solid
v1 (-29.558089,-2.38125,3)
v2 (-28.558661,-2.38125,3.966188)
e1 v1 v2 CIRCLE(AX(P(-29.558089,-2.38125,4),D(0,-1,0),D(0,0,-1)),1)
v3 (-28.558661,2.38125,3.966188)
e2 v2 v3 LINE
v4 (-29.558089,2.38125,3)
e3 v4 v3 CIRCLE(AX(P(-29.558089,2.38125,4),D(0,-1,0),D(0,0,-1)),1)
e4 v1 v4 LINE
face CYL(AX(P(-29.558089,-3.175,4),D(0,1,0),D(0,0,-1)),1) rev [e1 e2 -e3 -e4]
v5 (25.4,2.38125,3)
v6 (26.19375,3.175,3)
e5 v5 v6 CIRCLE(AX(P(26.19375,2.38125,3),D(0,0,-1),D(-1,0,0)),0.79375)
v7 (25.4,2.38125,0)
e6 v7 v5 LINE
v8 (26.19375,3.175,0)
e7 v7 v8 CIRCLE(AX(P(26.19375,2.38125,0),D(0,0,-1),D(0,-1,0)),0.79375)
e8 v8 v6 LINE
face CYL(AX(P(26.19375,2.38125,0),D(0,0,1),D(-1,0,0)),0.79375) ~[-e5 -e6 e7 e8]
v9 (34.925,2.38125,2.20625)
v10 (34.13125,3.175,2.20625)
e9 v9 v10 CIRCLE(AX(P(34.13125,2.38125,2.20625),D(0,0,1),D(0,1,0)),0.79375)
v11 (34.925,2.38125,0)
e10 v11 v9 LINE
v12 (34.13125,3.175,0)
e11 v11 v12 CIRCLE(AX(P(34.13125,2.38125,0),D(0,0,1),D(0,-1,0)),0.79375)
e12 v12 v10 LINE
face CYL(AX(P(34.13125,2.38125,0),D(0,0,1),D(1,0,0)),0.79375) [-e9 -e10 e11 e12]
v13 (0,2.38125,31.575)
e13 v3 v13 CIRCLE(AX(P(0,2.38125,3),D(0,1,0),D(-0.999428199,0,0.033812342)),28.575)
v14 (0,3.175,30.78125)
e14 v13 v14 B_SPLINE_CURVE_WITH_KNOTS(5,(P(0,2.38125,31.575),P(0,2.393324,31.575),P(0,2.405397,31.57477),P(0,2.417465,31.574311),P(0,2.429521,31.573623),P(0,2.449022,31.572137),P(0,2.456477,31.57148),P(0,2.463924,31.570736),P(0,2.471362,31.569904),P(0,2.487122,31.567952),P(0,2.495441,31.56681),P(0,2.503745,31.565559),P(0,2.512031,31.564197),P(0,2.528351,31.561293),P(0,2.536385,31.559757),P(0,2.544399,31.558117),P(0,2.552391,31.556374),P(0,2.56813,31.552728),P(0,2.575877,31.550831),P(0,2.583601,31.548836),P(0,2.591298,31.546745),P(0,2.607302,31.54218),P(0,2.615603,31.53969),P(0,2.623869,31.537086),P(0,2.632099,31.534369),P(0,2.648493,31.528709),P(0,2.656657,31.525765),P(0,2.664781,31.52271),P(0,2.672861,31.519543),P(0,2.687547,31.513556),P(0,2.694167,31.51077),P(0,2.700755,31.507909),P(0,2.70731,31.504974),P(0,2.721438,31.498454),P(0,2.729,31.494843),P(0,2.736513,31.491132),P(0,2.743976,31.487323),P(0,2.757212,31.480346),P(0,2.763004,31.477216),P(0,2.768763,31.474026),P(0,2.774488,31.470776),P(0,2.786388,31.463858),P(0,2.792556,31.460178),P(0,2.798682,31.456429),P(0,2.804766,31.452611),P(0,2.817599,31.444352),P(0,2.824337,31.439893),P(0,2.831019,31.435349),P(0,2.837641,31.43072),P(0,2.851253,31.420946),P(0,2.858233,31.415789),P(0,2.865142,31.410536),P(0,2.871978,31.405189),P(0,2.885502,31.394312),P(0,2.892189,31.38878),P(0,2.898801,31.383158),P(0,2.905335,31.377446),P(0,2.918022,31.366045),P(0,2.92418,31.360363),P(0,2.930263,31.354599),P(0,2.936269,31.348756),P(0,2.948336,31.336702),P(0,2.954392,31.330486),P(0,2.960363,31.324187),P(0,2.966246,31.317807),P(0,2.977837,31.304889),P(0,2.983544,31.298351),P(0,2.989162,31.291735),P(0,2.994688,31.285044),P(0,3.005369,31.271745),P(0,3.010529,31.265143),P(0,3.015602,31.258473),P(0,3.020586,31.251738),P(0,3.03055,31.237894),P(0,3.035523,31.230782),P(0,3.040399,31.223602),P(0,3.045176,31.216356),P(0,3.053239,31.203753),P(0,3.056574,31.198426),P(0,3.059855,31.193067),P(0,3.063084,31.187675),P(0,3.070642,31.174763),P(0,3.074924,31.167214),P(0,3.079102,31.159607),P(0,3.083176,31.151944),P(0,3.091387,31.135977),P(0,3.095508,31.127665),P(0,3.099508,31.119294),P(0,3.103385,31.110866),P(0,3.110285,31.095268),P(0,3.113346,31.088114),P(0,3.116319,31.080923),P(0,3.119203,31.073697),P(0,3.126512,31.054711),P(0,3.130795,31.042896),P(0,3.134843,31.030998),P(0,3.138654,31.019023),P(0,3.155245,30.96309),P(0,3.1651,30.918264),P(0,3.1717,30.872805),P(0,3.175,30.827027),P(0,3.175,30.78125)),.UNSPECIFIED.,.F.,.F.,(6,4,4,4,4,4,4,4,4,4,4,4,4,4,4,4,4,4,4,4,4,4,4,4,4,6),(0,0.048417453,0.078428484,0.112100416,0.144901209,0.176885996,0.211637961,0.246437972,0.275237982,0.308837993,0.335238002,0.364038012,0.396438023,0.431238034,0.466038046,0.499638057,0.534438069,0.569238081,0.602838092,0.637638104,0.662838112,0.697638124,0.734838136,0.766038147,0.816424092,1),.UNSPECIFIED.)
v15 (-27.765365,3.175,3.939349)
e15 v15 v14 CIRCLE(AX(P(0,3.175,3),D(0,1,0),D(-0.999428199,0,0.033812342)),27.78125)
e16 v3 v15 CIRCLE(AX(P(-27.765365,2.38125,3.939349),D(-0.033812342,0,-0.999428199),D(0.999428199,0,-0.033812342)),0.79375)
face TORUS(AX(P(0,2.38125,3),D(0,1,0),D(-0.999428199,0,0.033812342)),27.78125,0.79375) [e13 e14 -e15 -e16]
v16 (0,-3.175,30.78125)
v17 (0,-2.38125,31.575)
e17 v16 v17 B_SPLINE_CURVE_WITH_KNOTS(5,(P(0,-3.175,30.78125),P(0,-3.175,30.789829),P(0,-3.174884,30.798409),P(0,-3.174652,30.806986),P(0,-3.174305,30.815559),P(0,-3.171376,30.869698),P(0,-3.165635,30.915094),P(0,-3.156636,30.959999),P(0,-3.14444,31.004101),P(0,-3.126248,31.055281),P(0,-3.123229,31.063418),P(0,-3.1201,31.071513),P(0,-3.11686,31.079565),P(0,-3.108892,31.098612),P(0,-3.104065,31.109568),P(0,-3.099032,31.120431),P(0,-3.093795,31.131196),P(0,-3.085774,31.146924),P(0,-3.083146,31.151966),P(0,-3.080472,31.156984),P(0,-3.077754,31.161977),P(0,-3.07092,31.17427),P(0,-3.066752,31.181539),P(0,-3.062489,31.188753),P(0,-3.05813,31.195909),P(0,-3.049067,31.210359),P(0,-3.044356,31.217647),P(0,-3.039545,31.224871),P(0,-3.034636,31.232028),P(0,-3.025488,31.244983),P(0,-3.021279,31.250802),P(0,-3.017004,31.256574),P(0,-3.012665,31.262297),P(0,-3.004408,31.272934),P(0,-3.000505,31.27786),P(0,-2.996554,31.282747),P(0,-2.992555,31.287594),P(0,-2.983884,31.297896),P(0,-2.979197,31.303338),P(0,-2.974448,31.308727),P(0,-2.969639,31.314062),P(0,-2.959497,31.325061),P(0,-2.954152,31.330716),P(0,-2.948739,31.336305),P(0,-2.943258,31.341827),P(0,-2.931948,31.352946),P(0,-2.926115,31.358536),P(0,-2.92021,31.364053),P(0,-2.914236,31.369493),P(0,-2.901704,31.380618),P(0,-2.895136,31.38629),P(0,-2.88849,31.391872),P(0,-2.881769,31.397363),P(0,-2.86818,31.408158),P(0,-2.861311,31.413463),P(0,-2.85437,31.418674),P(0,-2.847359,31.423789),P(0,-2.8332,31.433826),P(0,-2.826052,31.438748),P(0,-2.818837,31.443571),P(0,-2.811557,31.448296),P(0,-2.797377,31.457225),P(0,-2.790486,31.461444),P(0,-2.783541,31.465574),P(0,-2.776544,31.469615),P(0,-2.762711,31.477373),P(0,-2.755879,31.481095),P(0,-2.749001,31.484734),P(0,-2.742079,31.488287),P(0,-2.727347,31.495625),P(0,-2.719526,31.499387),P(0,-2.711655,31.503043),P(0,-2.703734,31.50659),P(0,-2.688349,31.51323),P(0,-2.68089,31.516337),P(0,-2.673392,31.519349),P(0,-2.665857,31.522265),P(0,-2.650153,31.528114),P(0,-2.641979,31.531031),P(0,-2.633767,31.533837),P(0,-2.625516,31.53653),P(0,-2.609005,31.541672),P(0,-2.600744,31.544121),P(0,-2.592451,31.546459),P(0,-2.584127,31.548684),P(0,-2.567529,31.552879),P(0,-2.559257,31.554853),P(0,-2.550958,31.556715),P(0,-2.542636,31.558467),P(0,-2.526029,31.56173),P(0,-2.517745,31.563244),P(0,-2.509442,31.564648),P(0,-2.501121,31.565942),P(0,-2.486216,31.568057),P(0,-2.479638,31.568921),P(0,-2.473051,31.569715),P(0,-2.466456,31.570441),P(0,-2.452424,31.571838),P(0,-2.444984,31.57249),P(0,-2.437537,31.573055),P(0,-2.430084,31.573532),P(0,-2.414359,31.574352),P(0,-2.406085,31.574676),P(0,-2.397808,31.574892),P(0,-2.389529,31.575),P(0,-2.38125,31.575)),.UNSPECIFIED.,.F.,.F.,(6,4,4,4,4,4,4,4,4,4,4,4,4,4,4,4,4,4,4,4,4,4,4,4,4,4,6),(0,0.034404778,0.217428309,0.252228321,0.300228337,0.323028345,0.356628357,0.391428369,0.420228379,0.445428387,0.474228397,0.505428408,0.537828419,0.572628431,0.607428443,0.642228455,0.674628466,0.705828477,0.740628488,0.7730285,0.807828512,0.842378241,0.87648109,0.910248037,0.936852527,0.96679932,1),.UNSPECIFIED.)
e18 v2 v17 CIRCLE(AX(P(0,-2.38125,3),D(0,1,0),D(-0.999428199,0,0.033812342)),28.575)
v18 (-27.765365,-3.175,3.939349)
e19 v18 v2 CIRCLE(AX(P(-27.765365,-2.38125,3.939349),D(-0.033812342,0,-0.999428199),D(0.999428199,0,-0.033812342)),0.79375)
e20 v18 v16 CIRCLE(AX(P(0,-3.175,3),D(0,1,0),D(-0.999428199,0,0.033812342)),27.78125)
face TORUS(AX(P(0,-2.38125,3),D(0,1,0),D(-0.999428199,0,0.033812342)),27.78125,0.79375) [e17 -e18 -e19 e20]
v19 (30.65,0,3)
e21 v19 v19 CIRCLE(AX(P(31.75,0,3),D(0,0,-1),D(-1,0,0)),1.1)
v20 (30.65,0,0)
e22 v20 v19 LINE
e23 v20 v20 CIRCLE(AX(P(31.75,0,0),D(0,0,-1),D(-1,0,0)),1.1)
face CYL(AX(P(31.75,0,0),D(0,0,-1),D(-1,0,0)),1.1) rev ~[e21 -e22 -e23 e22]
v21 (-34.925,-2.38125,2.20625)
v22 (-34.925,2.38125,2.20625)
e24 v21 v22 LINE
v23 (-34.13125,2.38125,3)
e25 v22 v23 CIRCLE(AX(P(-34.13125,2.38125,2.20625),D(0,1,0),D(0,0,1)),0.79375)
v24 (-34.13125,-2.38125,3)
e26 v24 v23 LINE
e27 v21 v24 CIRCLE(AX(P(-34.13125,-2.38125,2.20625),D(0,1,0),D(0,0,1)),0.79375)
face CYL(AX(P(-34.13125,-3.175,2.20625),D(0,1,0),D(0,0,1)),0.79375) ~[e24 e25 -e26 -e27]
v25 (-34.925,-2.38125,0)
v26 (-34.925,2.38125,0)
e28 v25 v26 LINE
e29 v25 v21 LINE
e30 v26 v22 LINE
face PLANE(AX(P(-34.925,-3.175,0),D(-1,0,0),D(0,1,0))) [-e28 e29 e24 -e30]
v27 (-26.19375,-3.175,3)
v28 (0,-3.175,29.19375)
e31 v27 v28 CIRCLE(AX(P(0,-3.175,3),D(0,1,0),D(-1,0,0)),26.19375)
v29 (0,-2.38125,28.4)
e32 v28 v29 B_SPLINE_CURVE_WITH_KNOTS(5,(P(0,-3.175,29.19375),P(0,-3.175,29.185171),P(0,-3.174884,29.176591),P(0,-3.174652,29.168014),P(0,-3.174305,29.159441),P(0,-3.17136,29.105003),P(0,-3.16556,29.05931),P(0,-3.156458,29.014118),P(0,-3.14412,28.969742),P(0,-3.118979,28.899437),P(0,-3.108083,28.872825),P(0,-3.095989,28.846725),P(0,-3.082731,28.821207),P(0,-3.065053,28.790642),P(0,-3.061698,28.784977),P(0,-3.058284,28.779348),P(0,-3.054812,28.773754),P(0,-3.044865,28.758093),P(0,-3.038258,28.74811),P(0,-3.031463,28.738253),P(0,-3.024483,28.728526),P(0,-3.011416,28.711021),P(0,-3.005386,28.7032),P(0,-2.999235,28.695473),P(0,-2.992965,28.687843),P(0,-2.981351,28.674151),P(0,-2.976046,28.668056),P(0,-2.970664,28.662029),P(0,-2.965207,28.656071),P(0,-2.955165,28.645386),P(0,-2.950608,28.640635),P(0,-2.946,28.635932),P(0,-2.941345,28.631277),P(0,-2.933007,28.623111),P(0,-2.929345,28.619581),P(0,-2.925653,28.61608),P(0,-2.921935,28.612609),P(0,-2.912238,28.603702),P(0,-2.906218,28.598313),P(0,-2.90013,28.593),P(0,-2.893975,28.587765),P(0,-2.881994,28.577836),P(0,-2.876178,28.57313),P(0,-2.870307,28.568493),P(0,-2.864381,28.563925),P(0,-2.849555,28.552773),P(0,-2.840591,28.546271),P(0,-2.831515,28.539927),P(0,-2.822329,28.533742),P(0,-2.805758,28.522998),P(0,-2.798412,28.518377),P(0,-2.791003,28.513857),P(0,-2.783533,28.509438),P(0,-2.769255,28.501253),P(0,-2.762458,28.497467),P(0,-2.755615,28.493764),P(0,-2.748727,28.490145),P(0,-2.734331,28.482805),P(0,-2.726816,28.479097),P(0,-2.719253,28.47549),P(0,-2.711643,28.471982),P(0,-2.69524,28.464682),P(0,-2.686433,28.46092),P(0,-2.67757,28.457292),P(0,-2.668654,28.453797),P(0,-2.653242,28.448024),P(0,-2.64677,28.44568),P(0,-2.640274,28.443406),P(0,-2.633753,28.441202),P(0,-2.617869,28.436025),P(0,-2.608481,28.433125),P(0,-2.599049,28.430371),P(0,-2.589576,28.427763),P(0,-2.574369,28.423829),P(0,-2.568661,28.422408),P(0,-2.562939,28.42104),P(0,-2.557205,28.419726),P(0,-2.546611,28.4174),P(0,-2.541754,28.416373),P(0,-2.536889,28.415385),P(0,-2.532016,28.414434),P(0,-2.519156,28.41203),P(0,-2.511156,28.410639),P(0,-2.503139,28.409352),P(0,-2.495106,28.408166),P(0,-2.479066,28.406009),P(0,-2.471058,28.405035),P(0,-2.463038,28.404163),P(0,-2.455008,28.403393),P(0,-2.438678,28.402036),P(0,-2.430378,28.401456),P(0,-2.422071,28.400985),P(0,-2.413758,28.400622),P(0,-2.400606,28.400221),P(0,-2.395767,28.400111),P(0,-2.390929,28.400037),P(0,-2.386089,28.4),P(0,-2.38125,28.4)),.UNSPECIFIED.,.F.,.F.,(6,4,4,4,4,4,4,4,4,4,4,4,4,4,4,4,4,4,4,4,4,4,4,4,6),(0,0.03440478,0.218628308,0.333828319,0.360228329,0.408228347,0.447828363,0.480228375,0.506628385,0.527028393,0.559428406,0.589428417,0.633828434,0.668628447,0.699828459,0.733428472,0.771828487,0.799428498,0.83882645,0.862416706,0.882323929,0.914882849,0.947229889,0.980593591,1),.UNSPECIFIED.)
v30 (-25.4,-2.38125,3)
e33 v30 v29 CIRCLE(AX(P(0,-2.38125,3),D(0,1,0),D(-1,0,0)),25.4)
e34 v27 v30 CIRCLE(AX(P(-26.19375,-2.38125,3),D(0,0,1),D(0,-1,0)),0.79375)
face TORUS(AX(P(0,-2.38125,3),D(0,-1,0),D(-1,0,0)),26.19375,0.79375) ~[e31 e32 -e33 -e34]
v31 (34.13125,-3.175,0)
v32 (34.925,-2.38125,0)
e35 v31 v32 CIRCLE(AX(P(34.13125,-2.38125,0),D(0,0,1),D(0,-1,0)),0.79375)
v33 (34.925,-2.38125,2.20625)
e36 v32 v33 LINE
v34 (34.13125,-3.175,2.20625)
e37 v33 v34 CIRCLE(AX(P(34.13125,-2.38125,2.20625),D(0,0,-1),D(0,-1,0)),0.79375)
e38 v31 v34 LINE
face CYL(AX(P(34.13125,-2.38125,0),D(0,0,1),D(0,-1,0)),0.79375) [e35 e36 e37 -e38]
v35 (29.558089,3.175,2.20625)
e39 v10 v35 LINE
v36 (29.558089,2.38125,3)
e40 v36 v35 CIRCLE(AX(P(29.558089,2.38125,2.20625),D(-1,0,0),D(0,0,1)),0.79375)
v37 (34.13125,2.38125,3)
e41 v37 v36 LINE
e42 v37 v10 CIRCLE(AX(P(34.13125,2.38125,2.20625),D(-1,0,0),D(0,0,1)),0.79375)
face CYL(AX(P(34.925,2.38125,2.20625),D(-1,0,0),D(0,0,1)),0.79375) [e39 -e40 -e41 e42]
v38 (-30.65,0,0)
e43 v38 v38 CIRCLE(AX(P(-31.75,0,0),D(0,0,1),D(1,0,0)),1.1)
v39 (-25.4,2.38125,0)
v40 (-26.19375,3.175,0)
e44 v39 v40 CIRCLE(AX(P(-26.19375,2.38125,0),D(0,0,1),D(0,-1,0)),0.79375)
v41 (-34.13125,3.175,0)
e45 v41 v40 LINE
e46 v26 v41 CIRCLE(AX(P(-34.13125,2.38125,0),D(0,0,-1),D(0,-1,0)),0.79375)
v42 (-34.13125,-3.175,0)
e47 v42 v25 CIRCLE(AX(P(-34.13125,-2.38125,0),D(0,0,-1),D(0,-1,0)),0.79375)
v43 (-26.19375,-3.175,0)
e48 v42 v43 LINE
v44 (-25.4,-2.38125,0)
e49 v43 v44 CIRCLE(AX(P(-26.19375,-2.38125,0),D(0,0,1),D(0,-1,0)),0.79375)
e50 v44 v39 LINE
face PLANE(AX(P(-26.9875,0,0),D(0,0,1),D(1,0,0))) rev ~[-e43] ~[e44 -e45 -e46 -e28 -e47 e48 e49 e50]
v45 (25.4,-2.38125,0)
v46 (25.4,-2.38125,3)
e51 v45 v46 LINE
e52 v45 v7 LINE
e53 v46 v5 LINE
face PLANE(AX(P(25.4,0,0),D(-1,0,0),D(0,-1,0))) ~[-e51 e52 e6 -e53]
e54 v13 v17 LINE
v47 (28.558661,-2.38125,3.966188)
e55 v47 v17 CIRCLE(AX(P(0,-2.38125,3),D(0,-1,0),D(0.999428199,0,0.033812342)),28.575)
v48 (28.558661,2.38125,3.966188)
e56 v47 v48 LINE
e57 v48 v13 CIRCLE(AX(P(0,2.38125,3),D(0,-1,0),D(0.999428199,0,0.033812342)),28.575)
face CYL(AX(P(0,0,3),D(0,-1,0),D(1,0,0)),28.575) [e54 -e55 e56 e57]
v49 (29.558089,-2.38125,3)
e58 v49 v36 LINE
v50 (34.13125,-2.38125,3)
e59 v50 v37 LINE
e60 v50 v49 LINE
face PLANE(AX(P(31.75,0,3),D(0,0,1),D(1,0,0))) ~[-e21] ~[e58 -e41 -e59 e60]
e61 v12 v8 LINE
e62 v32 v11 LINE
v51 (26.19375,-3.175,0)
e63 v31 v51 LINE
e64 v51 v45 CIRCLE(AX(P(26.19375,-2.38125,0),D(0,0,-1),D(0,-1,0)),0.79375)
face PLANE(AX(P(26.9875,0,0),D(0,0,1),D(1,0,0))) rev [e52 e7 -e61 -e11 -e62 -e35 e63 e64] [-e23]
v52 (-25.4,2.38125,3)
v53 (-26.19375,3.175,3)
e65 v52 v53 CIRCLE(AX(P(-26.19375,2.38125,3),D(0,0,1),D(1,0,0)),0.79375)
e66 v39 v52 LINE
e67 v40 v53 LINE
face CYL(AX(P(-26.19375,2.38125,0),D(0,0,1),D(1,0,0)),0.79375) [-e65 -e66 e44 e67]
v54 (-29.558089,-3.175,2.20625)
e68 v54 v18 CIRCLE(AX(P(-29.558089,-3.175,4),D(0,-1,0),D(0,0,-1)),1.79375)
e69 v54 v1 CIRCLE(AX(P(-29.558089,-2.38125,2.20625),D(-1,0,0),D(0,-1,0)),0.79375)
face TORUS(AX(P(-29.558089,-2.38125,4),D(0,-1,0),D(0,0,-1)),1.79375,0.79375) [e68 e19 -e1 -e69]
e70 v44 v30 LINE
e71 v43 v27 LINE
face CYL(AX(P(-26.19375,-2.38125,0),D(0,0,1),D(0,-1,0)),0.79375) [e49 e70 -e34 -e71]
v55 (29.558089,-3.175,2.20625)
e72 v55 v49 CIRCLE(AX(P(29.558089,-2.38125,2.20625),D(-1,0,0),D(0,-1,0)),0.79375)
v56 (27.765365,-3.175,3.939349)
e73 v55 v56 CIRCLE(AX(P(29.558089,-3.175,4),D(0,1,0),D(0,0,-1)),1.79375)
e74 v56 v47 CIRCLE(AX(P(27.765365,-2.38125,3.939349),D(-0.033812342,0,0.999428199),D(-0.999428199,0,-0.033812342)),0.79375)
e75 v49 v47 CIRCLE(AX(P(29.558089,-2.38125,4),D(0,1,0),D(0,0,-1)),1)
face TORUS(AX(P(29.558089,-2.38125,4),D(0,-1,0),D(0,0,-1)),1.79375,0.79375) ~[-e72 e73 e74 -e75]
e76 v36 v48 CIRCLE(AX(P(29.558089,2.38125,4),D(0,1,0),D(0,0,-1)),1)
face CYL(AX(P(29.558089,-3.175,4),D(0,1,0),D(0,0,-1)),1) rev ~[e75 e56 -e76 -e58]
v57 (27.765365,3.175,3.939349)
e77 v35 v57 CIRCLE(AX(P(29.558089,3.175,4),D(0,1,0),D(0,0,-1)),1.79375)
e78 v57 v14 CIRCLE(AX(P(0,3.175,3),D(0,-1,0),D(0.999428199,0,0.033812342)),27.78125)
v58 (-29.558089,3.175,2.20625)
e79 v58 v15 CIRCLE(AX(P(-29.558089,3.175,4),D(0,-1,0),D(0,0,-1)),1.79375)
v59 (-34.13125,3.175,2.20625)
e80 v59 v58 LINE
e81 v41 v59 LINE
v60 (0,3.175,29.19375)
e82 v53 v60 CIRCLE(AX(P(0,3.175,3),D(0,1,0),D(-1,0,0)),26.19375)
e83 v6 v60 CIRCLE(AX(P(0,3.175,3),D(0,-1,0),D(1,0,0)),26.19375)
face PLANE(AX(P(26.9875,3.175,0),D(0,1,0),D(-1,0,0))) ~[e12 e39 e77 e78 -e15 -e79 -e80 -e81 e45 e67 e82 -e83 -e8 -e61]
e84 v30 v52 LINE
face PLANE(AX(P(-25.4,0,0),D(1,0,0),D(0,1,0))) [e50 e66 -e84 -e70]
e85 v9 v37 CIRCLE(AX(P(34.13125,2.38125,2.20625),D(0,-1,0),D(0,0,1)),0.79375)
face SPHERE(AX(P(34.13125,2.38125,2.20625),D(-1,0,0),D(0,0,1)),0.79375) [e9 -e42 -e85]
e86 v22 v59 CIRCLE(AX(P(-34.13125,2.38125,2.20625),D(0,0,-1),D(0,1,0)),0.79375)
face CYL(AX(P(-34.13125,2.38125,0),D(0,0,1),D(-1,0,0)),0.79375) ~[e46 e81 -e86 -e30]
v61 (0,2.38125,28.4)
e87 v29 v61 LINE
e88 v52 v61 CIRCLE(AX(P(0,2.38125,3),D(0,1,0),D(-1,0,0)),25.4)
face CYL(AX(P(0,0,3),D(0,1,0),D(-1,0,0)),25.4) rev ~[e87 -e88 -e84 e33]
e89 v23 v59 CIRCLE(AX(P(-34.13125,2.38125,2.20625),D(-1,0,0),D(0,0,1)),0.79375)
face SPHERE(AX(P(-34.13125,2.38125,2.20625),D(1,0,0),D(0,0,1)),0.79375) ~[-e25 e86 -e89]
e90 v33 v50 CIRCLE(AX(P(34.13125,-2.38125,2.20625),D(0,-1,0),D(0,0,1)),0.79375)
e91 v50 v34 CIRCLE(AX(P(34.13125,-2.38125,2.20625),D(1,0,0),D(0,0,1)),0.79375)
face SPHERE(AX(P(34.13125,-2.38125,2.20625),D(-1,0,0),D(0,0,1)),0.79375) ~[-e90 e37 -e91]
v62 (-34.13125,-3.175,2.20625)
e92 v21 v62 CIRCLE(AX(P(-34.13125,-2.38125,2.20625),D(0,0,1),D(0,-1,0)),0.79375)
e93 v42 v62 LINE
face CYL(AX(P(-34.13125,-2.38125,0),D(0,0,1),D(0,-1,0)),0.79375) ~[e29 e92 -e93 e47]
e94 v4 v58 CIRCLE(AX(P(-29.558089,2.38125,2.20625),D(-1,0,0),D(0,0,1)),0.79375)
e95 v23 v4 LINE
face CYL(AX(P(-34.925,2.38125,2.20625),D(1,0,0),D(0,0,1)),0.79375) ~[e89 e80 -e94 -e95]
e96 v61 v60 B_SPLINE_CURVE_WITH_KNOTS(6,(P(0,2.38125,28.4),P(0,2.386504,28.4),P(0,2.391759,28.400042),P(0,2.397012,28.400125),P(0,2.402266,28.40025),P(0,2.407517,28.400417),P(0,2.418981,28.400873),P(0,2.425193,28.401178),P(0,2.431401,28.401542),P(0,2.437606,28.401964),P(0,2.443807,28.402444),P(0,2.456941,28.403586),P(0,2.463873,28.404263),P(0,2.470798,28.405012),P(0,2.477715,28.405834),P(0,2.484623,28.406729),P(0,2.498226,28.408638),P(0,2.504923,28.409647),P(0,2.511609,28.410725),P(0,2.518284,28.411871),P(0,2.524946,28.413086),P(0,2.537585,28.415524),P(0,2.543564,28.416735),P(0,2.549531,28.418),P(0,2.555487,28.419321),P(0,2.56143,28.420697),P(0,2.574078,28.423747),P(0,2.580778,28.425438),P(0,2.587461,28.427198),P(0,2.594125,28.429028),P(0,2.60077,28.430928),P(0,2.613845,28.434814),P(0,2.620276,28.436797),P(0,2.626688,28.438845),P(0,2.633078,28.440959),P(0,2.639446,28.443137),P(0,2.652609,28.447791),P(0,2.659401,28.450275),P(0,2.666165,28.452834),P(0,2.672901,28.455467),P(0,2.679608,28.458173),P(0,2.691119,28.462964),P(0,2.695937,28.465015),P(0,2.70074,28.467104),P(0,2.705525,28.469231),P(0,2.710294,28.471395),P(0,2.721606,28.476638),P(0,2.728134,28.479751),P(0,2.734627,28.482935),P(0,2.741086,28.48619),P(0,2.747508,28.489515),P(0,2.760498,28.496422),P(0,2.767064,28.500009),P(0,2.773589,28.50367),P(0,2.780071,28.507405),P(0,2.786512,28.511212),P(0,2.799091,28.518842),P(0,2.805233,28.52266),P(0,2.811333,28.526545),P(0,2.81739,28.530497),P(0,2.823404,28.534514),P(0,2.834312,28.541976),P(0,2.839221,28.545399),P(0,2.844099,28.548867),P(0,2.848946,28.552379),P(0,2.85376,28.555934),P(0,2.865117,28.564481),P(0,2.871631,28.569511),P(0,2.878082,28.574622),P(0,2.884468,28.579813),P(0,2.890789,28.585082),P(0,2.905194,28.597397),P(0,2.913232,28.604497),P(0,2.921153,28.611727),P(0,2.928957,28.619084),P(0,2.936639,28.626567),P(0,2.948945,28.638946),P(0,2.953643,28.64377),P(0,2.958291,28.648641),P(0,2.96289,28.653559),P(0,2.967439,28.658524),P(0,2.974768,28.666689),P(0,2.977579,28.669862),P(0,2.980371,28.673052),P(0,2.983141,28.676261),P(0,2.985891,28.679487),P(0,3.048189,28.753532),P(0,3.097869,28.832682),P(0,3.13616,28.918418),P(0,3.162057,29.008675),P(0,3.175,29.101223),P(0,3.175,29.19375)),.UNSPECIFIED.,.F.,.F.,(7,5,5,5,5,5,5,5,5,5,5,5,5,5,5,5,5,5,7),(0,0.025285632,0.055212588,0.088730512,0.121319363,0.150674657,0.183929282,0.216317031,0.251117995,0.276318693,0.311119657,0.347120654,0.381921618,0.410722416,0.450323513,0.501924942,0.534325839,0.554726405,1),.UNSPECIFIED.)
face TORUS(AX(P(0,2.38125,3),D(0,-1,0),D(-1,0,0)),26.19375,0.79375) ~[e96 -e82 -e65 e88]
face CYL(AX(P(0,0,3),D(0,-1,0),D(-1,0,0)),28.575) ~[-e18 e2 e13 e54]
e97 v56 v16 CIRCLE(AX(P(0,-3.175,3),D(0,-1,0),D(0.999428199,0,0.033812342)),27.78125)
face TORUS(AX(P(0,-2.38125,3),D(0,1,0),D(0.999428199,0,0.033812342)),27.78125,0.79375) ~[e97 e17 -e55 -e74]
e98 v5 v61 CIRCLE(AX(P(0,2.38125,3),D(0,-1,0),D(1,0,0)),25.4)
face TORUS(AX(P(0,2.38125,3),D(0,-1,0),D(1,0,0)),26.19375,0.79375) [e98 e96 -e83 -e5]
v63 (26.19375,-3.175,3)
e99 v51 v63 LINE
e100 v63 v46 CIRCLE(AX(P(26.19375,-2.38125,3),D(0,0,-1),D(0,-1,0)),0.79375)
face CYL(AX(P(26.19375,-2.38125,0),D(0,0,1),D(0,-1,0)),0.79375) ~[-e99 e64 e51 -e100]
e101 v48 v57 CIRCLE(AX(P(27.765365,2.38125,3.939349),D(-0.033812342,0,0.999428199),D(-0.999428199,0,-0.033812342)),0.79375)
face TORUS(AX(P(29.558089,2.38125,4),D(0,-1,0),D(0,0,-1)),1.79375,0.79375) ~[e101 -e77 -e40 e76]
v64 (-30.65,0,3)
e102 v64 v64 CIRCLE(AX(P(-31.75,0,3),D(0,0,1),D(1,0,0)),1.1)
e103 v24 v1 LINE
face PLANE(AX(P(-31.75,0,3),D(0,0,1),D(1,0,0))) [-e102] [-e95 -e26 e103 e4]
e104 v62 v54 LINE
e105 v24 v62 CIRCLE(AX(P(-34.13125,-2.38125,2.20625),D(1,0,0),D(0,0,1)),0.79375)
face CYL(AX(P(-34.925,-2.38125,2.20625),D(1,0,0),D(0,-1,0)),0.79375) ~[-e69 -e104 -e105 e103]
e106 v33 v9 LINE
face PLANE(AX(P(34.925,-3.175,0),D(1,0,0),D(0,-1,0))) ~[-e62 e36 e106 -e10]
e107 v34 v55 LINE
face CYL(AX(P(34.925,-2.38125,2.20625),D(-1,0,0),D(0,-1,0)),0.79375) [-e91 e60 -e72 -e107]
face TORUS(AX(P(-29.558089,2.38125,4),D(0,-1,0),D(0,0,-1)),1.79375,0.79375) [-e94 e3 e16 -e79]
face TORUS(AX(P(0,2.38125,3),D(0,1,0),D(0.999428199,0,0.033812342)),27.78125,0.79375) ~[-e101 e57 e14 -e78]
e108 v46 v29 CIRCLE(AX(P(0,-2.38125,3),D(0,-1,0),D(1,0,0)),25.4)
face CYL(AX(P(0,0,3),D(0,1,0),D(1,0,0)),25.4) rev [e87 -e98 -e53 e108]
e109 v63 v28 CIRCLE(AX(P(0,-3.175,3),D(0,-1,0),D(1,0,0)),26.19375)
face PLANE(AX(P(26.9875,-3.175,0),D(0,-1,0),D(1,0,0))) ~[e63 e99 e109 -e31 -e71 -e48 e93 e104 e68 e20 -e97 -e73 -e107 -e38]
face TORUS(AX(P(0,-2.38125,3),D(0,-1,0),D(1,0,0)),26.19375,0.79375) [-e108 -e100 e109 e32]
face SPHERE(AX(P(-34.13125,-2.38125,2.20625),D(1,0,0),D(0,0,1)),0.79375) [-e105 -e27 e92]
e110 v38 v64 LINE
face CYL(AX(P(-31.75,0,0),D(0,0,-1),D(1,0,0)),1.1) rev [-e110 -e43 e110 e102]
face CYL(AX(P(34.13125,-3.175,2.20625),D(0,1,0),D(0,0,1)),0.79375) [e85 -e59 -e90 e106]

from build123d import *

# Parameters (mm, degrees)
SKETCH2_W           = 6.35
SKETCH2_H           = 6.35
SKETCH2_R           = 1.1
BOSS_EXTRUDE1_DEPTH = 3
SKETCH4_W           = 3.175
SKETCH4_H           = 6.35
FILLET1_R           = 1
FILLET3_R           = 0.79375


with BuildPart() as part:
    # Sketch2 → Boss-Extrude1 (new body)
    with BuildSketch(Plane.XY):
        with Locations((-31.75, 0)):
            Rectangle(SKETCH2_W, SKETCH2_H)
        with Locations((-31.75, 0)):
            Circle(SKETCH2_R, mode=Mode.SUBTRACT)
    extrude(amount=BOSS_EXTRUDE1_DEPTH)

    # Sweep1: sweep along a path in Sketch3
    with BuildLine(Plane(origin=(0, 0, 0), x_dir=(1, 0, 0), z_dir=(0, 1, 0))) as sweep1_path:
        Line((-28.575, 0), (-28.575, -3))
        ThreePointArc((-28.575, -3), (-20.205576272, -23.205576272), (0, -31.575))
    # Sketch4 → Sweep1 (sweep)
    with BuildSketch(Plane.XY):
        with Locations((-26.9875, 0)):
            Rectangle(SKETCH4_W, SKETCH4_H)
    sweep(path=sweep1_path.line)

    # Fillet1
    fillet1_edges = [part.edges().sort_by_distance(p)[0] for p in [
        (-28.575, 0, 3),
    ]]
    fillet(fillet1_edges, radius=FILLET1_R)

    # Fillet3
    fillet3_edges = [part.edges().sort_by_distance(p)[0] for p in [
        (-25.4, 3.175, 1.5),
        (-25.4, -3.175, 1.5),
        (-17.960512242, 3.175, 20.960512242),
        (-17.960512242, -3.175, 20.960512242),
        (-19.861039911, -3.175, 23.54433544),
        (-28.863039479, -3.175, 3.28103813),
        (-19.861039911, 3.175, 23.54433544),
        (-28.863039479, 3.175, 3.28103813),
        (-32.241544497, -3.175, 3),
        (-34.925, 0, 3),
        (-34.925, 3.175, 1.5),
        (-34.925, -3.175, 1.5),
        (-32.241544497, 3.175, 3),
    ]]
    fillet(fillet3_edges, radius=FILLET3_R)

    # Mirror1: part across plane


with BuildPart() as part_1:
    add(part.part)
    add(part.part.mirror(Plane(origin=(0, 0, 3), x_dir=(0, 0, 1), z_dir=(1, 0, 0))))


solid = part_1.part
